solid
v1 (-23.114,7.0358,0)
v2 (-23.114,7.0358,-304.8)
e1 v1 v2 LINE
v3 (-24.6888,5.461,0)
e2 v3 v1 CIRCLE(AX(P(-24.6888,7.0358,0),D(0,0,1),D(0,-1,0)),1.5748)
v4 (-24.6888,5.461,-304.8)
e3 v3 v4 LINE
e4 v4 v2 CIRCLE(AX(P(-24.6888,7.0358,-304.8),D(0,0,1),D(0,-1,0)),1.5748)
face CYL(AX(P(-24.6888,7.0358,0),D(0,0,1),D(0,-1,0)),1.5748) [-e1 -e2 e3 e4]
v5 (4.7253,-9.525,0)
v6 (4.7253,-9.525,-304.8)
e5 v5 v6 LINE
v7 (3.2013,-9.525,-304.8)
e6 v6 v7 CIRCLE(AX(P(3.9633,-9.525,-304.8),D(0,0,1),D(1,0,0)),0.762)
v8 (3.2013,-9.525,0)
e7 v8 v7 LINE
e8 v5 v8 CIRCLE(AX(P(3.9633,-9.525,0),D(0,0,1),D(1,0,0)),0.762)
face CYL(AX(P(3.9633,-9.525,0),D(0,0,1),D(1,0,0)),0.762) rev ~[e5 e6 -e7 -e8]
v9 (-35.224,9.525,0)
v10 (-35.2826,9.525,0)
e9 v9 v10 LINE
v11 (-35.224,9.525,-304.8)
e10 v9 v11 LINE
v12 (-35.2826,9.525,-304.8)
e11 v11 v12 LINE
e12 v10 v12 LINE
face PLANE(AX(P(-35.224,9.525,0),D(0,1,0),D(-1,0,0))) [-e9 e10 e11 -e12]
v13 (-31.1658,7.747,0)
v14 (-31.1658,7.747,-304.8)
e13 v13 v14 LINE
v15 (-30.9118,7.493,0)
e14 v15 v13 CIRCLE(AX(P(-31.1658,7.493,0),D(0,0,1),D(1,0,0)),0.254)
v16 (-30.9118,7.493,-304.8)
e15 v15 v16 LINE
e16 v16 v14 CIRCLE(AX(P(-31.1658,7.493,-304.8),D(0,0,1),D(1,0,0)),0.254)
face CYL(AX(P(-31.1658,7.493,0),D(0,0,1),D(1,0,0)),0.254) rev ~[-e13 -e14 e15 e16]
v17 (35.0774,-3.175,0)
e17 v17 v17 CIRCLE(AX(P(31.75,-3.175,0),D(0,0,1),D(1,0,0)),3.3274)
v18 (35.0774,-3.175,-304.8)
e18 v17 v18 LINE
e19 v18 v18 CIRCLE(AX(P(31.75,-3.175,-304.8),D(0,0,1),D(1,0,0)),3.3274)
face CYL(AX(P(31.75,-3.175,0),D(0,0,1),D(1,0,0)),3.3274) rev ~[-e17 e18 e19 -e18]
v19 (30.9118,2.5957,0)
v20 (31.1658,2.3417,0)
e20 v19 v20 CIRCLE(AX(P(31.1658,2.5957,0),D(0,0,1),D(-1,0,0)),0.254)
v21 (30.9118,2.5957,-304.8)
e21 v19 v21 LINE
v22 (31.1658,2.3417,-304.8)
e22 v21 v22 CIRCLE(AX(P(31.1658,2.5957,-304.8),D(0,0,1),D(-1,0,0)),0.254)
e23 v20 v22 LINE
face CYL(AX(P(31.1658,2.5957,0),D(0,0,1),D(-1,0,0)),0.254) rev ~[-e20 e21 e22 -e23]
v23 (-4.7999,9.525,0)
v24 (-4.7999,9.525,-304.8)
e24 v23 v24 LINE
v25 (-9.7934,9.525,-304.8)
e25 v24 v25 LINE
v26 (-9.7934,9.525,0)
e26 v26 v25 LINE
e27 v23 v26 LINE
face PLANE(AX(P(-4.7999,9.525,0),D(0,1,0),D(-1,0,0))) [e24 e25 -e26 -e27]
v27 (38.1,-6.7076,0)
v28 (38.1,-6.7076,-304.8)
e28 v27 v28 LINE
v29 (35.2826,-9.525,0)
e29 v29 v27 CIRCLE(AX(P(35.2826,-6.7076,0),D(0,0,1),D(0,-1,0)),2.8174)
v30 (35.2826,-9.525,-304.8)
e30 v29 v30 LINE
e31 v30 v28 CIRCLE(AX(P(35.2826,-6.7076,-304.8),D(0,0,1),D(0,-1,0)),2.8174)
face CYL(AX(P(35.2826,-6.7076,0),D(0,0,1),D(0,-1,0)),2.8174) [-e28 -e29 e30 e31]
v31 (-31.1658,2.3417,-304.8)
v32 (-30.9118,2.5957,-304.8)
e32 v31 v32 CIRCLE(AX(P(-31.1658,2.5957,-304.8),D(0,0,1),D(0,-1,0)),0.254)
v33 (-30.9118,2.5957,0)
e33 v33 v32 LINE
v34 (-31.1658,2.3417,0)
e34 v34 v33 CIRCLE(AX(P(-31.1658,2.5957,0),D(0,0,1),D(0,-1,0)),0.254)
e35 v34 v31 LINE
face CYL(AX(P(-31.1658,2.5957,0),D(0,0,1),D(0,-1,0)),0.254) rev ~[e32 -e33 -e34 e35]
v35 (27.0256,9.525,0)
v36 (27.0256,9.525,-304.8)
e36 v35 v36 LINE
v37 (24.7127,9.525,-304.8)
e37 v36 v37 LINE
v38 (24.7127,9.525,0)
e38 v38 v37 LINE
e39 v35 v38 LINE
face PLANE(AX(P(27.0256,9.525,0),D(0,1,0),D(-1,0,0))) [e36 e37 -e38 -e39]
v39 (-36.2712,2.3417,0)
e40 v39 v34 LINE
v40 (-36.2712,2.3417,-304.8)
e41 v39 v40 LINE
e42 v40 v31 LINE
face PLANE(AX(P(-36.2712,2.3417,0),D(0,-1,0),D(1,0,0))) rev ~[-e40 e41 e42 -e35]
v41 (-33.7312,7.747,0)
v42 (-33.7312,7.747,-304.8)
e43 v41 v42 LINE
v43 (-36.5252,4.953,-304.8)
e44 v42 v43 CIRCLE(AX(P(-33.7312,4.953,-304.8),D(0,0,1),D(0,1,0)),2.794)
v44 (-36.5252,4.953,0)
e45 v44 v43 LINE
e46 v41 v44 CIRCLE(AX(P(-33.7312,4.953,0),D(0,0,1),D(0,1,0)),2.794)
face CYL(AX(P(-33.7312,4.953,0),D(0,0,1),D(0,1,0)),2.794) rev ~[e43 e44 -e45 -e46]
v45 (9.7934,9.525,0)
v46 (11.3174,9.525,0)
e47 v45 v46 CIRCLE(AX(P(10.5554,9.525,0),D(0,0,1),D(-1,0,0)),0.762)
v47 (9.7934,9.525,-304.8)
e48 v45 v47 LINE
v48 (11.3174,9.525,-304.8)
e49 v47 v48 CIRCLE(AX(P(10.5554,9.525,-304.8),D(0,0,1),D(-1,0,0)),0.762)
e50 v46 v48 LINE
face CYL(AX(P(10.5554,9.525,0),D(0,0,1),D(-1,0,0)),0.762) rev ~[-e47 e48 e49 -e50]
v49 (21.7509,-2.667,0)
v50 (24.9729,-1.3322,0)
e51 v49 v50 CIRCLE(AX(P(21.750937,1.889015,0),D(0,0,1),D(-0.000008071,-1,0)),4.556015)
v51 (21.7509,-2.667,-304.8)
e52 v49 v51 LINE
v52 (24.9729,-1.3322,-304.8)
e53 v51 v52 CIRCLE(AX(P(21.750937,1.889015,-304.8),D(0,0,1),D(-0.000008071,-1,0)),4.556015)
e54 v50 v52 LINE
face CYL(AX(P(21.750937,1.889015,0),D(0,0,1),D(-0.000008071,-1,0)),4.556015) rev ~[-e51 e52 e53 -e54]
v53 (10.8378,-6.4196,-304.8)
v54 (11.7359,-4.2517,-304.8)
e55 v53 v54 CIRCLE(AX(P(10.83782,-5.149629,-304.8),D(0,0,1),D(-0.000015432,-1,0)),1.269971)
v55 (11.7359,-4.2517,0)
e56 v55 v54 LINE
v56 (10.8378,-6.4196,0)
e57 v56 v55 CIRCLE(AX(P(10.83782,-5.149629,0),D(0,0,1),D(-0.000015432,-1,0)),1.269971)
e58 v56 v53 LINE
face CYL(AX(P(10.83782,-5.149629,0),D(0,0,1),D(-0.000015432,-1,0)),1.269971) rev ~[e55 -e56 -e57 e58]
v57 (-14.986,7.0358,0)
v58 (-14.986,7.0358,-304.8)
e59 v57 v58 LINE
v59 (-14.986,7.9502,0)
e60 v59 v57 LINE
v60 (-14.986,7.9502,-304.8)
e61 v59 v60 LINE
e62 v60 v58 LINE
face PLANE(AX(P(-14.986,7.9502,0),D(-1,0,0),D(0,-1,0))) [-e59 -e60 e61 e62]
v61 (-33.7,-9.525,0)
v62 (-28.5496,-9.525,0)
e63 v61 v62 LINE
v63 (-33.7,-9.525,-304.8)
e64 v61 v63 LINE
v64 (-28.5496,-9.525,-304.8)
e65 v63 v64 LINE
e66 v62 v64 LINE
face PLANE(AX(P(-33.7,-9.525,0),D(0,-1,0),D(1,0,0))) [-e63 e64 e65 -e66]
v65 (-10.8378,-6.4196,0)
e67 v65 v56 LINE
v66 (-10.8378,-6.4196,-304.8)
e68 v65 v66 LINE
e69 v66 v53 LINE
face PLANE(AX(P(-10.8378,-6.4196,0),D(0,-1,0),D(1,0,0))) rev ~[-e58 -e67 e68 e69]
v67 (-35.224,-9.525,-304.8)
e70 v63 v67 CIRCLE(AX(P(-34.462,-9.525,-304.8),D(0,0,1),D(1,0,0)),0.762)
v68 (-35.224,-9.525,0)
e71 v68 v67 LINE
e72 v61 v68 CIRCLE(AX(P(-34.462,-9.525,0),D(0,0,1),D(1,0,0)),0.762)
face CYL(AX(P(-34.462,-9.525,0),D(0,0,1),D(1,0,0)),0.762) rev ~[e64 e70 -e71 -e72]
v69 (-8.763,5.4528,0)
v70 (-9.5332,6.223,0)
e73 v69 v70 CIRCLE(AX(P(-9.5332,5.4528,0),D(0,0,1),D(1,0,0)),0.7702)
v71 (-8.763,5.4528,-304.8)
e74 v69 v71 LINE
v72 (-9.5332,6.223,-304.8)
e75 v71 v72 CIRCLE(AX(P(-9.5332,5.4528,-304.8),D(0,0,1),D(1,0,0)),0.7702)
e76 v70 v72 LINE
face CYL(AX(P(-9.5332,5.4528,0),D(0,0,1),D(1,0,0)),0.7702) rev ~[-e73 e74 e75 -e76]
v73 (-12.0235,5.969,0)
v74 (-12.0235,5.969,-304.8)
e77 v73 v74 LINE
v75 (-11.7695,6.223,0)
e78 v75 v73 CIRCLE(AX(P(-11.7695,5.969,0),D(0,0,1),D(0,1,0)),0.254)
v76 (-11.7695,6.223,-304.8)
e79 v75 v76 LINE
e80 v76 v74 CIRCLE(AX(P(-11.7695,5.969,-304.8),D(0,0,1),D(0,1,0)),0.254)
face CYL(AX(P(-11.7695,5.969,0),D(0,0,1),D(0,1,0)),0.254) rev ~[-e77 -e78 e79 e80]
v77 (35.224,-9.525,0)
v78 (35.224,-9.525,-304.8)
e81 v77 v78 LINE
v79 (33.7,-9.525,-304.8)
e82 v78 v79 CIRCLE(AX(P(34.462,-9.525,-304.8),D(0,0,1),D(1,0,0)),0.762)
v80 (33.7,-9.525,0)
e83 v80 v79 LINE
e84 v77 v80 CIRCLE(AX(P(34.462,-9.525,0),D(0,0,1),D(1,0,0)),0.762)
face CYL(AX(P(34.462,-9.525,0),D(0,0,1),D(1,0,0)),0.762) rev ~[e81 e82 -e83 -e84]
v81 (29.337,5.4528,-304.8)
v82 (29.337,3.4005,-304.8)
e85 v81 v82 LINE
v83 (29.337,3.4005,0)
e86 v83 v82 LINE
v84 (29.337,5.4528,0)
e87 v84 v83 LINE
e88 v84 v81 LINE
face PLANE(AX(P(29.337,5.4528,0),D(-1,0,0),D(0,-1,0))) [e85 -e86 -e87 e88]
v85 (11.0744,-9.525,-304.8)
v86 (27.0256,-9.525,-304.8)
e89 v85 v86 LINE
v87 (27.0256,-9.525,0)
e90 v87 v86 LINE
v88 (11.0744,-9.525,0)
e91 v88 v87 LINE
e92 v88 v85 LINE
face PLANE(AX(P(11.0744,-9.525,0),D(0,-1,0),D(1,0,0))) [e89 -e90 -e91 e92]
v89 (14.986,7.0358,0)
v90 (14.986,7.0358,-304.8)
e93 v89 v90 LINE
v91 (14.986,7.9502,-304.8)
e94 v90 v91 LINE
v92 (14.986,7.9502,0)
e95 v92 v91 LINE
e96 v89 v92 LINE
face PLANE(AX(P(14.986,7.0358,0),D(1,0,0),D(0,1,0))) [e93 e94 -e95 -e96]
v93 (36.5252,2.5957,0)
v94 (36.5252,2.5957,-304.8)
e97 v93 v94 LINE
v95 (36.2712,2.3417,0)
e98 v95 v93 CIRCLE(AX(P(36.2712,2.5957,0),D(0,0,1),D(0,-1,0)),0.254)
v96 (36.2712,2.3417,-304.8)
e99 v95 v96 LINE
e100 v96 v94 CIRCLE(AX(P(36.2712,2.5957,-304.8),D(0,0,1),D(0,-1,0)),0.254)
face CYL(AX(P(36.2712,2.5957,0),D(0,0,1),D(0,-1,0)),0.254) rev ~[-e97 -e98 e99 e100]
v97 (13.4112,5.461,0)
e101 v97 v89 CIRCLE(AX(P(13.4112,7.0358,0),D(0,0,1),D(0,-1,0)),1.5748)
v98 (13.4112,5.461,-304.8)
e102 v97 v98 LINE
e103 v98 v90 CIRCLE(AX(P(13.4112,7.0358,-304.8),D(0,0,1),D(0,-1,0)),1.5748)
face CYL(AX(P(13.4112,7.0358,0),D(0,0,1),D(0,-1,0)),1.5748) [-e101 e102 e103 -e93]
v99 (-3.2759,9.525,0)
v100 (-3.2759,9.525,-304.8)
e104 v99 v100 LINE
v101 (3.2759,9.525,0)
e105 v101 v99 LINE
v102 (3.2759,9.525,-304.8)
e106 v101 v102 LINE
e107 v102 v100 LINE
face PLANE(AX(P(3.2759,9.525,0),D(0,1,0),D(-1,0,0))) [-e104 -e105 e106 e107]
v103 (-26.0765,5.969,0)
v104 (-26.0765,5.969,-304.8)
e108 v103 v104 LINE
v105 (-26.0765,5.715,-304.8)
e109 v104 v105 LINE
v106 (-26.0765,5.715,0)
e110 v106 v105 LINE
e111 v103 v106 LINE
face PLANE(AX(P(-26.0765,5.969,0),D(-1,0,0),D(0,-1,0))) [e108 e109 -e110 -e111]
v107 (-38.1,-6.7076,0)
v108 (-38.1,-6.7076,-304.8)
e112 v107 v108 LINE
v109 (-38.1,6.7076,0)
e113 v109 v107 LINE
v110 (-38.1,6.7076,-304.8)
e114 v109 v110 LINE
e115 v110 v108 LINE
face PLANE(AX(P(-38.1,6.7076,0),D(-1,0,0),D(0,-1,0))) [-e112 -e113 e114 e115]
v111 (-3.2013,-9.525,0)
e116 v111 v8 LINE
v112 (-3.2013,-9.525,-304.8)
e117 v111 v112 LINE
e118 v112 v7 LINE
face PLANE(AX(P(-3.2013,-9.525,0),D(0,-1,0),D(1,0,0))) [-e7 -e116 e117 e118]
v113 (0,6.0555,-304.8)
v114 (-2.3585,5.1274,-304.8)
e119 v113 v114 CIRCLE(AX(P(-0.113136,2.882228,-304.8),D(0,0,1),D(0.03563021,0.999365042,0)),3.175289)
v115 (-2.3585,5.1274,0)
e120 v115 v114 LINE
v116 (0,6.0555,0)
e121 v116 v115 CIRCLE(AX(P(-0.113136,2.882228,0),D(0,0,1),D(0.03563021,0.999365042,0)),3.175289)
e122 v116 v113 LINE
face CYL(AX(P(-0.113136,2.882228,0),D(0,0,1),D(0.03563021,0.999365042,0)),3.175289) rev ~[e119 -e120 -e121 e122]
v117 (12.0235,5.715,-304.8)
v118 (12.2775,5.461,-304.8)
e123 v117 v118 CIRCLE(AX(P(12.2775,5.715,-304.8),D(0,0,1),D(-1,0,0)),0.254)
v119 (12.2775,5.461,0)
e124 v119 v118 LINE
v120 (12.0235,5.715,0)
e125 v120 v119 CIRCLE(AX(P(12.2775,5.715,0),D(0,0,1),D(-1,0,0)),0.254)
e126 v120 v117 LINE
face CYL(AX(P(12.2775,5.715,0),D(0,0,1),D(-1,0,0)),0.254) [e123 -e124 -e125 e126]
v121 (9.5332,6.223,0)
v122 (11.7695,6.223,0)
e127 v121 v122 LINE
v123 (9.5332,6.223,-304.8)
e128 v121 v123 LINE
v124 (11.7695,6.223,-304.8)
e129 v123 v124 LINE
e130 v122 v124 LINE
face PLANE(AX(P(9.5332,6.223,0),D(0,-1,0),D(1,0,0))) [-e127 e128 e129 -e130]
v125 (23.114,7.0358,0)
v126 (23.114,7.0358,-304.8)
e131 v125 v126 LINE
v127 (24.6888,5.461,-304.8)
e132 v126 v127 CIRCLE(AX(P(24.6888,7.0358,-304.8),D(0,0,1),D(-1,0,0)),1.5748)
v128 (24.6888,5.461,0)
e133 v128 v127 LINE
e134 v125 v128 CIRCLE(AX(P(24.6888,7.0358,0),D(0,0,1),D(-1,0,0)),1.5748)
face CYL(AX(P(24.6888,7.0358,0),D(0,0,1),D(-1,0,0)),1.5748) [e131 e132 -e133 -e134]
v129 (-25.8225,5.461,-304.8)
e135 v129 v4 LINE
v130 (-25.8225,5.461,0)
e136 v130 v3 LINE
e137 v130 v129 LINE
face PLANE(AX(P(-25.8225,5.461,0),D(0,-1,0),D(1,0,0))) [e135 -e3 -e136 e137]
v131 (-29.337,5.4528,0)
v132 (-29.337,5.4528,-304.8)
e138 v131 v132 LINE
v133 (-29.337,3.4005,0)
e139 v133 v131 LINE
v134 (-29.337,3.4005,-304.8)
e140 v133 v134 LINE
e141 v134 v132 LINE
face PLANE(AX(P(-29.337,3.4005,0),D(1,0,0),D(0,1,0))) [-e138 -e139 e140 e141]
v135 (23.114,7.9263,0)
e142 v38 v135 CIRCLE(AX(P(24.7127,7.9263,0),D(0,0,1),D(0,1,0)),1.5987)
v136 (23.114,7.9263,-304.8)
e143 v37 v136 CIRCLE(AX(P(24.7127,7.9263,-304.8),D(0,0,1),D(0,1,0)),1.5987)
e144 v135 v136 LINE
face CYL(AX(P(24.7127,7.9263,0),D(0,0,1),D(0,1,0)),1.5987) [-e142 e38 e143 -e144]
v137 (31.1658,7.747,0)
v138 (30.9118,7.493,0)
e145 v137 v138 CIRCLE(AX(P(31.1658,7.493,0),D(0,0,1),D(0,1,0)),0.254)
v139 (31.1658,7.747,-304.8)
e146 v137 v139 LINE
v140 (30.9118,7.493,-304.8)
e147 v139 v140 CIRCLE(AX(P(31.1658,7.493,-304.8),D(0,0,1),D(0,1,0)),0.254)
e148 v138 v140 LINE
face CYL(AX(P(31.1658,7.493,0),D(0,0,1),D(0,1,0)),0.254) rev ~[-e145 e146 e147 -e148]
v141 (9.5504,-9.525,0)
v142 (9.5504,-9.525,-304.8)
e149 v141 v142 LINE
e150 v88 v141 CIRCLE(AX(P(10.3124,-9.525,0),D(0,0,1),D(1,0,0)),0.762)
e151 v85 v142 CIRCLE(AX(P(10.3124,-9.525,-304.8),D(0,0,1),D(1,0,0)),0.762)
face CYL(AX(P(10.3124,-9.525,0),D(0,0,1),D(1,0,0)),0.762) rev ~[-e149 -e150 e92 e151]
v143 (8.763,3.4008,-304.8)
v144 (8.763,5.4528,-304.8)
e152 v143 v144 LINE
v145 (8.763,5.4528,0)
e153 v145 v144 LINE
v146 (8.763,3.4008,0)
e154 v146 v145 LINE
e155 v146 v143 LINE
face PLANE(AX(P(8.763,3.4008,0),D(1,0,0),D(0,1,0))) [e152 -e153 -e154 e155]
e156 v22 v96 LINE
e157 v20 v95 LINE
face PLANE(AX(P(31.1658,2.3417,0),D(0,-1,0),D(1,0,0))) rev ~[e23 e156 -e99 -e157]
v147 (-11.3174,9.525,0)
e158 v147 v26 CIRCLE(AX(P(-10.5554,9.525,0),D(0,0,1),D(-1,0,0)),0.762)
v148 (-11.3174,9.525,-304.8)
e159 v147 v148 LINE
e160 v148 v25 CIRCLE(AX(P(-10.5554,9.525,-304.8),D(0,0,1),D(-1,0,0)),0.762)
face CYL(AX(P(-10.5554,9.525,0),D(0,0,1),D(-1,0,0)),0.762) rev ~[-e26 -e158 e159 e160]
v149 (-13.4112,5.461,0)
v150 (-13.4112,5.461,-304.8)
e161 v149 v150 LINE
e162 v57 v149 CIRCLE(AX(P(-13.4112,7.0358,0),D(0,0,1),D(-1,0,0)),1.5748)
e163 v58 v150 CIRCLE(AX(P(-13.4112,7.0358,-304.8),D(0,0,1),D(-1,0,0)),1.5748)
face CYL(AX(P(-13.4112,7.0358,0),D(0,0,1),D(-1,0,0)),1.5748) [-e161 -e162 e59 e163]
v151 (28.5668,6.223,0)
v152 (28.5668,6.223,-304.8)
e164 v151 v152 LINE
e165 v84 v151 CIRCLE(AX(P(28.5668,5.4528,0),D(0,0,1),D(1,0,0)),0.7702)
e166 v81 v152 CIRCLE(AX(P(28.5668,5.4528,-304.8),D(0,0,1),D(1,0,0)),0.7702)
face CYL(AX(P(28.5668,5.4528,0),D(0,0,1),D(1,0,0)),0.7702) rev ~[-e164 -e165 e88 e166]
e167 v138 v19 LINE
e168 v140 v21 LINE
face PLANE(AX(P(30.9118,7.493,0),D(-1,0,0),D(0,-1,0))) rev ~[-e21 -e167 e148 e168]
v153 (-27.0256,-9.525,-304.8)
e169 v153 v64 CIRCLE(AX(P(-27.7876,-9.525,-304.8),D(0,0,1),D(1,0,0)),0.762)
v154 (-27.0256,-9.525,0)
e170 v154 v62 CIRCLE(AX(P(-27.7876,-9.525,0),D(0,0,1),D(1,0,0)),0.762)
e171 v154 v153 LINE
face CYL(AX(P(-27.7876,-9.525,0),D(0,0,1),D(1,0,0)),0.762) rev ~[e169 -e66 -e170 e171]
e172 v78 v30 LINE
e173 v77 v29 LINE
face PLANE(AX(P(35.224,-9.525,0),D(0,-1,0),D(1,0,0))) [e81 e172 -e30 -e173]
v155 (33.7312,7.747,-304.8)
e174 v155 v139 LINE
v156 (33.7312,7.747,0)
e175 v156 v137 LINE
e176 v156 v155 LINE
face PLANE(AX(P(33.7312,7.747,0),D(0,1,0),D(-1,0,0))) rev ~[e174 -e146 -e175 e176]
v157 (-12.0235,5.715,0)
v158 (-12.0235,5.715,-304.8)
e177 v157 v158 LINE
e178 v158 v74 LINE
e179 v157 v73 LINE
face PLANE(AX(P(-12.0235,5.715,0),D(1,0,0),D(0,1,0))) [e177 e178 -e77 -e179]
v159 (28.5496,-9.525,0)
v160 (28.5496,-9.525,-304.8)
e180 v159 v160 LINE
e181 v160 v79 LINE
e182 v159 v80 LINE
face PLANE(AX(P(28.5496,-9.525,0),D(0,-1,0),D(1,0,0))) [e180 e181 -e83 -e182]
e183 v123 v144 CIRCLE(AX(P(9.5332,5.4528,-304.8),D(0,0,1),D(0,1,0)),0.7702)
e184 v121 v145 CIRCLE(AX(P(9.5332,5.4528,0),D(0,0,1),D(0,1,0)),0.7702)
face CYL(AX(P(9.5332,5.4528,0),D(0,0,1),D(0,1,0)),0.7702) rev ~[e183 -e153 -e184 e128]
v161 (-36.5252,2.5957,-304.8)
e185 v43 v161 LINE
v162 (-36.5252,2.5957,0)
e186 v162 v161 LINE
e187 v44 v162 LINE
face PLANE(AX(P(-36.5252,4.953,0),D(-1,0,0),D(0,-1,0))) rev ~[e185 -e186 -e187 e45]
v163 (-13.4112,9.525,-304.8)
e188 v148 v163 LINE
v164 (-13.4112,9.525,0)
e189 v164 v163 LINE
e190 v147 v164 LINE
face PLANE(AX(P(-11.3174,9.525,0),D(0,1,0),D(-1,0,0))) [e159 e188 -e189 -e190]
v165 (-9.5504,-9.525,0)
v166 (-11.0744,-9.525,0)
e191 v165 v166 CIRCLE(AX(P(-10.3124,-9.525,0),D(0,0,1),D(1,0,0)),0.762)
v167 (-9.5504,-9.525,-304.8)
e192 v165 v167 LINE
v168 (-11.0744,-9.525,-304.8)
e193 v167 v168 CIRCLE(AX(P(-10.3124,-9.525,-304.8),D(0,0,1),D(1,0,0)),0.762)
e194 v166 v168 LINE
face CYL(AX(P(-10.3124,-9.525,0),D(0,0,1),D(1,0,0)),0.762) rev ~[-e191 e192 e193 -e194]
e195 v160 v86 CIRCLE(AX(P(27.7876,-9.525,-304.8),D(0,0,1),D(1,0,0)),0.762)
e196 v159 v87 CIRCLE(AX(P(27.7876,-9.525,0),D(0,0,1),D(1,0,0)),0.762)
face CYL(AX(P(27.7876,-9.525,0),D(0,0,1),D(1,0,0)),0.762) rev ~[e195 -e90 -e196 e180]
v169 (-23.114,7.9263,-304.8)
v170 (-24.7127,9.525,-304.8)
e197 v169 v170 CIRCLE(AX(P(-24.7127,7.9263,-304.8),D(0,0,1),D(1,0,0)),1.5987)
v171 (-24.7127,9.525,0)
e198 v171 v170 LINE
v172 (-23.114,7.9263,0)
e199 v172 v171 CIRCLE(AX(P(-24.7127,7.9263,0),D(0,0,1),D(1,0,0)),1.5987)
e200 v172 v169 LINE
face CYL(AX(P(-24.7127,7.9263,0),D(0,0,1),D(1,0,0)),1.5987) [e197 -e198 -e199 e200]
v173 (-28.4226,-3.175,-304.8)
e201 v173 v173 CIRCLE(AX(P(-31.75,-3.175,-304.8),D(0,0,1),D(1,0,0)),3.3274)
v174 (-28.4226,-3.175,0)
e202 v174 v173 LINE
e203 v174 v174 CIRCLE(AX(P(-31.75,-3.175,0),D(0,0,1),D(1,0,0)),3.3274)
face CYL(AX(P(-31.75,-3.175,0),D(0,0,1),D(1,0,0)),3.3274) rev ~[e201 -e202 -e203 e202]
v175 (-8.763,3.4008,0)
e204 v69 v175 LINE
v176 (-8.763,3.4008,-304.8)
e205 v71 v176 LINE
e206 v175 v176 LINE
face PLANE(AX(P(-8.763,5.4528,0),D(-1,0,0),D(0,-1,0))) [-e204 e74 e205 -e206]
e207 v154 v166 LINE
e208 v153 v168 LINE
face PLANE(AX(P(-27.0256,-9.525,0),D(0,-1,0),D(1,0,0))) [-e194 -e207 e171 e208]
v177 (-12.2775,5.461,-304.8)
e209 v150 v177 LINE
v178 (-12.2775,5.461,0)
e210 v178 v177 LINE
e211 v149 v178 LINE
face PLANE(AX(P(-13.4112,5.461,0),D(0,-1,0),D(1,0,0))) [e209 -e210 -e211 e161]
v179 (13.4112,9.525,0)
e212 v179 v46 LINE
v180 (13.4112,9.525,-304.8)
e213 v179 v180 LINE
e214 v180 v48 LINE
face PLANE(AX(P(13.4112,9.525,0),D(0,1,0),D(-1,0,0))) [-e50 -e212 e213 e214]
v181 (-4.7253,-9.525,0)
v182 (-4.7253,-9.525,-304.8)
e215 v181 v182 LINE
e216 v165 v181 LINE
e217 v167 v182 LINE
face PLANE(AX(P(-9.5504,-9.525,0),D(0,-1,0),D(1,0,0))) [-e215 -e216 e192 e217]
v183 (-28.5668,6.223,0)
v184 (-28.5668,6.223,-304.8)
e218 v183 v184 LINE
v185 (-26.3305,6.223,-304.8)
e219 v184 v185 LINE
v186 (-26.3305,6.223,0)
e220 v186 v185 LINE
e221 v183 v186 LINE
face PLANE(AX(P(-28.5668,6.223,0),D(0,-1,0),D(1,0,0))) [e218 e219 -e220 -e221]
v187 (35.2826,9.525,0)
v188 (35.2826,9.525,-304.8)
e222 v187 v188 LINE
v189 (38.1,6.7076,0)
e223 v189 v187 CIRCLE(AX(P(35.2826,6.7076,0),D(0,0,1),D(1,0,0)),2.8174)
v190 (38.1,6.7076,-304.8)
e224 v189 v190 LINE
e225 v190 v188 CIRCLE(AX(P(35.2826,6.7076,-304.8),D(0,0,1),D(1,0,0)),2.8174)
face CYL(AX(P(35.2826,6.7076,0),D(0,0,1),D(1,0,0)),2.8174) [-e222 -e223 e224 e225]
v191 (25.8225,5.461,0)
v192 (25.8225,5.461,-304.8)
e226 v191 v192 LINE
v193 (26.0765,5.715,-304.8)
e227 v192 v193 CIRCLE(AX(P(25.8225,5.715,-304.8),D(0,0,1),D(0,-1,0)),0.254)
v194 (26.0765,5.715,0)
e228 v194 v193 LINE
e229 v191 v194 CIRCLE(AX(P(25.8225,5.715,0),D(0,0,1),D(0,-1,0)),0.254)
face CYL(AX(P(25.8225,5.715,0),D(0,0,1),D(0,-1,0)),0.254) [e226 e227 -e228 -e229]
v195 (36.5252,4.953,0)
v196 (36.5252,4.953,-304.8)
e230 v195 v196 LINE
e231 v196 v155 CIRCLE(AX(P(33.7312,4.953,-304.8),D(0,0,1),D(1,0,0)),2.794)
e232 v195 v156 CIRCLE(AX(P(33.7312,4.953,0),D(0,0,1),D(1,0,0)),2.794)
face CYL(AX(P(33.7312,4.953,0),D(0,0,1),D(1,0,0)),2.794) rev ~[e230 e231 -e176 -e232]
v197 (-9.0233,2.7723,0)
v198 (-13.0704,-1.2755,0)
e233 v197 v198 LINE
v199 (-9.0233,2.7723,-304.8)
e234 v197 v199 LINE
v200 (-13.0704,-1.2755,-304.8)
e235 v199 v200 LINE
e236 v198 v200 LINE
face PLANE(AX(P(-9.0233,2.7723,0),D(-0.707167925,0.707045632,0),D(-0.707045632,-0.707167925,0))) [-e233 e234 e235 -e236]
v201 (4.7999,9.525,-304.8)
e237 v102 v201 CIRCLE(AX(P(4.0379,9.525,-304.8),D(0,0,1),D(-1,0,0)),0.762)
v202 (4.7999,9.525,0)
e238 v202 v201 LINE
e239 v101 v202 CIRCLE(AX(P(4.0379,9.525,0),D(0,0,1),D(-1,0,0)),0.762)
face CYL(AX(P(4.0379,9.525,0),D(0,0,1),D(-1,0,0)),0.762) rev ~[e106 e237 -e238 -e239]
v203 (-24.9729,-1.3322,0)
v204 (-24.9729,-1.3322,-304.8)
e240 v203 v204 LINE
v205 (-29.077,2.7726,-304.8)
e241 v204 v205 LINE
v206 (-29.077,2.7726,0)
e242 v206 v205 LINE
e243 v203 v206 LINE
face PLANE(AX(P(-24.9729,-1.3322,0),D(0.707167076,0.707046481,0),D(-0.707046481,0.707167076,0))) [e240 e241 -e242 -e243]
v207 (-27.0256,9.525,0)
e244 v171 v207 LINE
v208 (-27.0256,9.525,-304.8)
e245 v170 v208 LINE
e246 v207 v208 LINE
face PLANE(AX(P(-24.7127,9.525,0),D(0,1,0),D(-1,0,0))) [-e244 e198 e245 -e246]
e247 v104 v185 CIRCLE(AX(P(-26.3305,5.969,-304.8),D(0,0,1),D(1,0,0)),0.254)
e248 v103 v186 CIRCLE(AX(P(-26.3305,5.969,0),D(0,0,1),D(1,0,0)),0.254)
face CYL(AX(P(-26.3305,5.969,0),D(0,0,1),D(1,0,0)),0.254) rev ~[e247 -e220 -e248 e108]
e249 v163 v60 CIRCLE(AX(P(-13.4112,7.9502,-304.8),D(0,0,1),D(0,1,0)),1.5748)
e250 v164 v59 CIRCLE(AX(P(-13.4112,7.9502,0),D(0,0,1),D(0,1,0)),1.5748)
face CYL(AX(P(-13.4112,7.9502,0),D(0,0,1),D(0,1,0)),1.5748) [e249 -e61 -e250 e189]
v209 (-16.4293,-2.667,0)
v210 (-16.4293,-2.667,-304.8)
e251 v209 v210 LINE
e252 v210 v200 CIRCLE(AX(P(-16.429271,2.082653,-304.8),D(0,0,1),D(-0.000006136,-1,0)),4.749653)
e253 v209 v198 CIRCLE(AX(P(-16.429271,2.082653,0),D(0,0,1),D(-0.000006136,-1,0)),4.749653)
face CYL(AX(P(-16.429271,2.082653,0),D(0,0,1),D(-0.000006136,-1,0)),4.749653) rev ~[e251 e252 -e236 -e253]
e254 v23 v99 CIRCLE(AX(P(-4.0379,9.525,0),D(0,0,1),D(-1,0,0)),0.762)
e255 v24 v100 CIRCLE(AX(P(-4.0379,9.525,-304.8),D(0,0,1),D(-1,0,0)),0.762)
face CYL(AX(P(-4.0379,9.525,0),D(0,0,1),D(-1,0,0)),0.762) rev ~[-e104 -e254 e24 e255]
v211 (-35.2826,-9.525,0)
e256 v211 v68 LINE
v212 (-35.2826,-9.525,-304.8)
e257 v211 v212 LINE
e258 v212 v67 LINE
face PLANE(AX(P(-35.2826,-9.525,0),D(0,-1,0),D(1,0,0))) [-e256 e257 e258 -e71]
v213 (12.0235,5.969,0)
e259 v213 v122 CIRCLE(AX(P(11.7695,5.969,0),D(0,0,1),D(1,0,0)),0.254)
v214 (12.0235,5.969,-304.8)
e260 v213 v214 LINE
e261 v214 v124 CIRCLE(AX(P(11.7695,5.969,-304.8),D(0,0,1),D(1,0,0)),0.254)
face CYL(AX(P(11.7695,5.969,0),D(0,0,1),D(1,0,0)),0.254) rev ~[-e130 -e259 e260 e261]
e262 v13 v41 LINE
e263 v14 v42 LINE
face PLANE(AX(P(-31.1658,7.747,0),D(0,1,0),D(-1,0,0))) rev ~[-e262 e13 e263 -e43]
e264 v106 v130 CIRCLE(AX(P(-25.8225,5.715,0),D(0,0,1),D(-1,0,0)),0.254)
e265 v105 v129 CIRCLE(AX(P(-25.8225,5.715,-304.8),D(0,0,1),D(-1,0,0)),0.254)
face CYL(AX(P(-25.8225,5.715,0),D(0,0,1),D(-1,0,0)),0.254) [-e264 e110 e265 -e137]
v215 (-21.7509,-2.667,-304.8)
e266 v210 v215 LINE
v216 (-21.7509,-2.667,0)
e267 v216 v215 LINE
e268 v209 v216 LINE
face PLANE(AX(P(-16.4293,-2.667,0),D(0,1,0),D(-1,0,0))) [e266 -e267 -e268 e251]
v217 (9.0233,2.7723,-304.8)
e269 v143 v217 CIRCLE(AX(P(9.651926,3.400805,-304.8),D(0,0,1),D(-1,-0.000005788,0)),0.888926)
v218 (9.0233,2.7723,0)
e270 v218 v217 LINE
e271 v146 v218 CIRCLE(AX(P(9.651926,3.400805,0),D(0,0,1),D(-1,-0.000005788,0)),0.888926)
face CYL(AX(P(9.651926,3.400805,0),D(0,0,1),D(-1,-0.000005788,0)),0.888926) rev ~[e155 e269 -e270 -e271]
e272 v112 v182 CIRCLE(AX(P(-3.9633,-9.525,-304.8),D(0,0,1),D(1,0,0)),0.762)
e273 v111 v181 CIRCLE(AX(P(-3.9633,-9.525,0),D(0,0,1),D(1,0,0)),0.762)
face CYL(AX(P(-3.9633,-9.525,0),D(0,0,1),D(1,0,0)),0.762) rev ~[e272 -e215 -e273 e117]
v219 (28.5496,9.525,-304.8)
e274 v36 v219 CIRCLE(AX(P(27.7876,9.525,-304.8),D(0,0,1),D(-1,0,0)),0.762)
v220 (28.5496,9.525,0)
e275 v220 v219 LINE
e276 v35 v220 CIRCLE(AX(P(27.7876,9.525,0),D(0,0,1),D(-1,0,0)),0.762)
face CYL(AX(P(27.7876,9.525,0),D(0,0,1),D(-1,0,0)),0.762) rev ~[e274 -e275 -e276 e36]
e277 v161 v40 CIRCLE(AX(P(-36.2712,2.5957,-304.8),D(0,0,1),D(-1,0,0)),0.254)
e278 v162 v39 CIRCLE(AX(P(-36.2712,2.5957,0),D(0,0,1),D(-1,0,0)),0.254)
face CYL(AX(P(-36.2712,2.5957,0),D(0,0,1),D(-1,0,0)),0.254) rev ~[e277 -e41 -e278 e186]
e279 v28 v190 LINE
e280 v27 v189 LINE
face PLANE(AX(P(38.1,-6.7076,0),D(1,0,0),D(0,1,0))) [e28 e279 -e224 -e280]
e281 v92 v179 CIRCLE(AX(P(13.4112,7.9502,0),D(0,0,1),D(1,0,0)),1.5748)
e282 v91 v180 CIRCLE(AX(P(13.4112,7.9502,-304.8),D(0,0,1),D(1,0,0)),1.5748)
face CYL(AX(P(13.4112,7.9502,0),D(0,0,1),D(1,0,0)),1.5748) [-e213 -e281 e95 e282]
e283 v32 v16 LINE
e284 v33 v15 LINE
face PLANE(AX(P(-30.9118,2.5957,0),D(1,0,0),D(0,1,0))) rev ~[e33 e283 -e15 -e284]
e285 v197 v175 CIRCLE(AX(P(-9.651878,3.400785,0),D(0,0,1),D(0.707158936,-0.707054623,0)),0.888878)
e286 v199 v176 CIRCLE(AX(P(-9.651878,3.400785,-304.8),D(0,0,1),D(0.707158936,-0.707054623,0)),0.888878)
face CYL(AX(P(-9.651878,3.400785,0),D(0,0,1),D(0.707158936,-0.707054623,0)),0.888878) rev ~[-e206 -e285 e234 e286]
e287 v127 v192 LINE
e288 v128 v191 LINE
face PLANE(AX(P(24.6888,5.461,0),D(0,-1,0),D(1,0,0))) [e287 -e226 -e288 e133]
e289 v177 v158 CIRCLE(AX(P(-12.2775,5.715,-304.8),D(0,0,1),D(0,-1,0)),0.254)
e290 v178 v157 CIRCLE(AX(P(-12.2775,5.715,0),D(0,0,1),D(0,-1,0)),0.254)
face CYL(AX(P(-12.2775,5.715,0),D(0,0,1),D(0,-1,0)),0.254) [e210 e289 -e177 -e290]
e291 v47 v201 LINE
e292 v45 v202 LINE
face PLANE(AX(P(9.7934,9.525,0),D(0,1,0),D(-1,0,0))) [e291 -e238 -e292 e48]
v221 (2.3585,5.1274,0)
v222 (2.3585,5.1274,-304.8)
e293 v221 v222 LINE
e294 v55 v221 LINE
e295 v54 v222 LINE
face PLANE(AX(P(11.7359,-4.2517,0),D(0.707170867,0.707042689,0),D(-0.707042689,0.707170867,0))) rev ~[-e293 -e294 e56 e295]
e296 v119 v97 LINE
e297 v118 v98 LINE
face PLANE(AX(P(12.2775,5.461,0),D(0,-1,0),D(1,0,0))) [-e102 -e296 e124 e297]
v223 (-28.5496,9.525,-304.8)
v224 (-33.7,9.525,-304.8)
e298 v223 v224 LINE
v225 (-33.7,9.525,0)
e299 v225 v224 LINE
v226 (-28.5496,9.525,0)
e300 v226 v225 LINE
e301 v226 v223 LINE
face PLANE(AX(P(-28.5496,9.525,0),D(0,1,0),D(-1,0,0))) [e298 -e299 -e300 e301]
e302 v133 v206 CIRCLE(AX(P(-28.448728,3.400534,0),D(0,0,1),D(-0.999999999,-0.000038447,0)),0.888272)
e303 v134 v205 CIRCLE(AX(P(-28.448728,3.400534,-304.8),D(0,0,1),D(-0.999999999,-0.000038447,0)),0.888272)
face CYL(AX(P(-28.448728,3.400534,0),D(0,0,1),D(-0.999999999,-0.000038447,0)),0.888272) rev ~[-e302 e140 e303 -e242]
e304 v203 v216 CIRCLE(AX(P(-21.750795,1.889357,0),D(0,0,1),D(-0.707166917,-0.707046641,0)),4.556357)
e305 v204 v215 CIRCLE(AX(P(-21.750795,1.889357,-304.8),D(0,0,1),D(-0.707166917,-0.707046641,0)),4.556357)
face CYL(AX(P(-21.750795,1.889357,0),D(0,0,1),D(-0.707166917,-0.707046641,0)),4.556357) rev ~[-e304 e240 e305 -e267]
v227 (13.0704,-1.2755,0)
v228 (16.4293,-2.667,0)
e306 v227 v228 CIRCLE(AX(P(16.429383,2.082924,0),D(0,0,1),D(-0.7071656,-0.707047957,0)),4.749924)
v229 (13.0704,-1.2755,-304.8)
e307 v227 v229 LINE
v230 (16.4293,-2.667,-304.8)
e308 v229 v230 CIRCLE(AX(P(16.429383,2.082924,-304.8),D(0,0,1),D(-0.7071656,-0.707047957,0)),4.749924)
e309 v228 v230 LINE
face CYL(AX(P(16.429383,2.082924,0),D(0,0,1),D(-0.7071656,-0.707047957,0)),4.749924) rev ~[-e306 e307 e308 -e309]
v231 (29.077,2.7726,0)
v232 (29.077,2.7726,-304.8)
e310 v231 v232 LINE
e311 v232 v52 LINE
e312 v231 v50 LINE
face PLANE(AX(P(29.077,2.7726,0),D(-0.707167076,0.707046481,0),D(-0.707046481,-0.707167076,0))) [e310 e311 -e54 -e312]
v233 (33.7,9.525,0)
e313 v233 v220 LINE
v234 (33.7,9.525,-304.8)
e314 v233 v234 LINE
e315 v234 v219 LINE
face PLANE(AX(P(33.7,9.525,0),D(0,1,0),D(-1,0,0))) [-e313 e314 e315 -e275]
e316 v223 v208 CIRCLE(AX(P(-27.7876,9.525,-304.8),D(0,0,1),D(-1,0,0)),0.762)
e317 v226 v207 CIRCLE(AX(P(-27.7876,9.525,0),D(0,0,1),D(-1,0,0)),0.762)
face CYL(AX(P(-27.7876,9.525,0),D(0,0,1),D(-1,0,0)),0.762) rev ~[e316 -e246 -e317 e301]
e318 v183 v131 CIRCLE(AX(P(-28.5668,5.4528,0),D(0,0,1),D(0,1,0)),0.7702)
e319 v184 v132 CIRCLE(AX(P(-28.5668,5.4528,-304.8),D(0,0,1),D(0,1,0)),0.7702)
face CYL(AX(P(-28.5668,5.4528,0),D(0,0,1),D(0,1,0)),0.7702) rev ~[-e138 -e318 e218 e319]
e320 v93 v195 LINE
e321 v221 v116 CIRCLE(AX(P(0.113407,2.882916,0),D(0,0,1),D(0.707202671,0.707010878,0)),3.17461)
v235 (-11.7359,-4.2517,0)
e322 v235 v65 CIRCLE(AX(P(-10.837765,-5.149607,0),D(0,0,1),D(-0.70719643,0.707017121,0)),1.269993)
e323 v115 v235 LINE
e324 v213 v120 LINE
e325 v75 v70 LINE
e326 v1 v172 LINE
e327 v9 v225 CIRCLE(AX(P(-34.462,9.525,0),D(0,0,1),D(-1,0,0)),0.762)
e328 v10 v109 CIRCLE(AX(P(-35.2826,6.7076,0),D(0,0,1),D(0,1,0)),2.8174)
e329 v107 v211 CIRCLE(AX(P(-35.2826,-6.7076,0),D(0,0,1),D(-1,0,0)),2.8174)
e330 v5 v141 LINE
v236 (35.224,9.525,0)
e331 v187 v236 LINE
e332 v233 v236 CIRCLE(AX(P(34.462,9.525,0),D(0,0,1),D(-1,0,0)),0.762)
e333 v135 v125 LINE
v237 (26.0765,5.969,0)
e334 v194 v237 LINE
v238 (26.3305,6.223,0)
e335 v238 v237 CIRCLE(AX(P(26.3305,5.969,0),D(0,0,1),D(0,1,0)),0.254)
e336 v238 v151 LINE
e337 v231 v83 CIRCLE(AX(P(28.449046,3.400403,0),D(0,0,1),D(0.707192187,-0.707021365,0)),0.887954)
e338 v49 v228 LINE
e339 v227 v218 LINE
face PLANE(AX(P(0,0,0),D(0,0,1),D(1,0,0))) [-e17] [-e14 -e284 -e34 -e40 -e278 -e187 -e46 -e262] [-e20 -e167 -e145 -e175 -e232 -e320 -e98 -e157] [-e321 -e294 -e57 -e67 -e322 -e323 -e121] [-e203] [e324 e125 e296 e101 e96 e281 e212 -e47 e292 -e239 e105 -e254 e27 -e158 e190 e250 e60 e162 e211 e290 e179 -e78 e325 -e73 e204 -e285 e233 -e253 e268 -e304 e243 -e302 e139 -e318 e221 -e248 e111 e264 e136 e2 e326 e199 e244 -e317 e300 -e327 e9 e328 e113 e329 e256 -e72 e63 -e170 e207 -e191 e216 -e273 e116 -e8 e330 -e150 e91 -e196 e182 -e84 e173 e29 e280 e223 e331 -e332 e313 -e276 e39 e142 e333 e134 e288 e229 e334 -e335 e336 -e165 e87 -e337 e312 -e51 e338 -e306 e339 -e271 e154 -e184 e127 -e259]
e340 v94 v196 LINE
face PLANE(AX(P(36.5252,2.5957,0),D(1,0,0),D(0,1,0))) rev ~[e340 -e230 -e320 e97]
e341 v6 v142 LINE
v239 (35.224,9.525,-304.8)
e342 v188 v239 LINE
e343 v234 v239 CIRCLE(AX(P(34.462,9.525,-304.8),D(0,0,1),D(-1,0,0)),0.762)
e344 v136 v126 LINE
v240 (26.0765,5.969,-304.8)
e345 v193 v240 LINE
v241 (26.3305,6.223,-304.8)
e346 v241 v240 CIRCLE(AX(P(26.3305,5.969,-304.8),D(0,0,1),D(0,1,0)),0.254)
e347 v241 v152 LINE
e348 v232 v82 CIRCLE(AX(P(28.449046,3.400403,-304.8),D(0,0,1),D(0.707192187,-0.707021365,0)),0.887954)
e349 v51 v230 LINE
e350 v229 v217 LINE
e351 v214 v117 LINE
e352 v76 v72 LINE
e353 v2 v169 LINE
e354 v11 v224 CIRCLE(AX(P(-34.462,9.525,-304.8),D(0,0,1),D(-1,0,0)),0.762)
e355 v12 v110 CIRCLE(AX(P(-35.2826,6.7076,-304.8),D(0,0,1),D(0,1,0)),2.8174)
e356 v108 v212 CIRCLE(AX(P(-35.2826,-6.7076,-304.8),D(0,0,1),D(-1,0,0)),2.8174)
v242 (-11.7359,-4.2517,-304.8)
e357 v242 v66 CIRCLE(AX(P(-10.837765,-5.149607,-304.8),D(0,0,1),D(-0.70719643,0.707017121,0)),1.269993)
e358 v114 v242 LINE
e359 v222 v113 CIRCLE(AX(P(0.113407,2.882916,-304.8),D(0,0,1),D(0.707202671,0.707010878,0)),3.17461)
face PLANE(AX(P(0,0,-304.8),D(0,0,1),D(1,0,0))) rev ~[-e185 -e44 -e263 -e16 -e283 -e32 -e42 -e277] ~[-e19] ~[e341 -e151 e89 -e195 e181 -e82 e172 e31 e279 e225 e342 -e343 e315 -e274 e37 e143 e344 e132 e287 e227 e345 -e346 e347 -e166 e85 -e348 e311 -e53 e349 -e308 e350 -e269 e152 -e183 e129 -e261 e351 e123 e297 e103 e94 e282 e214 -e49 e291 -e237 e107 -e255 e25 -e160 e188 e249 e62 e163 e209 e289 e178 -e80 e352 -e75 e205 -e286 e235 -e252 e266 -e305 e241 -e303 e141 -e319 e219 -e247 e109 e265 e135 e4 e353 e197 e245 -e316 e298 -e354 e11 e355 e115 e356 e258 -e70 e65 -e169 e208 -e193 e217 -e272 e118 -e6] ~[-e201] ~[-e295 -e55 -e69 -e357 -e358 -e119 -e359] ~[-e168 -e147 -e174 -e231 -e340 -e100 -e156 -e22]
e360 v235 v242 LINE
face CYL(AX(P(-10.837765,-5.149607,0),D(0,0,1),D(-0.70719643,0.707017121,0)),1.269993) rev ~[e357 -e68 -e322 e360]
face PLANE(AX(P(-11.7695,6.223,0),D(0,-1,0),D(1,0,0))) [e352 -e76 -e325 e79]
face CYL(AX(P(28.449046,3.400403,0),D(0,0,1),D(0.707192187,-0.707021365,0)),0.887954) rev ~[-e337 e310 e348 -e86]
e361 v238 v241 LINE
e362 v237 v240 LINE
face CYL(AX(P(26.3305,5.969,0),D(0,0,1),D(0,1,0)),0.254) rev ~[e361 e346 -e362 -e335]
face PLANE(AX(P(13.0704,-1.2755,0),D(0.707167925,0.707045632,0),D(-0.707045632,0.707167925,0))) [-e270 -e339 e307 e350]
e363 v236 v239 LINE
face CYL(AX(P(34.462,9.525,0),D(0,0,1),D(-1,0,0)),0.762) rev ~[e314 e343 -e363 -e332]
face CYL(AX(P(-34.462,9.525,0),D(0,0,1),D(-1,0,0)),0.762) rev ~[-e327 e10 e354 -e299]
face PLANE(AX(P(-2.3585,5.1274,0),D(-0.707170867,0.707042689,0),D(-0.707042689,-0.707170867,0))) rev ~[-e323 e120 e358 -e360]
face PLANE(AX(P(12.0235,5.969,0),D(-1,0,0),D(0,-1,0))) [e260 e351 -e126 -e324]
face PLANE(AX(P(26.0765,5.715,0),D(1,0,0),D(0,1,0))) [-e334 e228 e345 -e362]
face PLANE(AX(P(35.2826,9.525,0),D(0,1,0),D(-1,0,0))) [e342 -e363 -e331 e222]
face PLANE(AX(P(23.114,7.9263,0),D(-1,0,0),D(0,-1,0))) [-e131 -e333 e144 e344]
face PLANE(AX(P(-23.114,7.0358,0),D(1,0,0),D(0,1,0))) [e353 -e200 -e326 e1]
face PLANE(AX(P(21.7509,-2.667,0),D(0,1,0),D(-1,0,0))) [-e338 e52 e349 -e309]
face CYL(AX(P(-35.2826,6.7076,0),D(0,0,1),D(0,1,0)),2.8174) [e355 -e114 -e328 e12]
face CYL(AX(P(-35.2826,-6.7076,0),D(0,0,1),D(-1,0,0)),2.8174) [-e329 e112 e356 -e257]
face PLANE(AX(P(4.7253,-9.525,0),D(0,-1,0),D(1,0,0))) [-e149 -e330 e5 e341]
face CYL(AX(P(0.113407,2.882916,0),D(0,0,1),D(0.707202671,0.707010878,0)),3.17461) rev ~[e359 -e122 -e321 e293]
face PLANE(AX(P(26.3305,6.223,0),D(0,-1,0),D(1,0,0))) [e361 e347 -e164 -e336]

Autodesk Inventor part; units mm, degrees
ref_plane "YZ Plane" through (0, 0, 0) normal (1, 0, 0) x (0, 1, 0)
ref_plane "XZ Plane" through (0, 0, 0) normal (0, 1, 0) x (-1, 0, 0)
ref_plane "XY Plane" through (0, 0, 0) normal (0, 0, 1) x (1, 0, 0)
sketch "Sketch1" plane through (0, 0, 0) normal (0, 0, 1) x (1, 0, 0)
  circle A0 centre (31.75, -3.175) radius 3.3274
  circle A1 centre (-31.75, -3.175) radius 3.3274
  arc A2 (-30.9118, 7.493) -> (-31.1658, 7.747) centre (-31.1658, 7.493) ccw
  line L0 (-30.9118, 2.5957) -> (-30.9118, 7.493)
  arc A3 (-31.1658, 2.3417) -> (-30.9118, 2.5957) centre (-31.1658, 2.5957) ccw
  line L1 (-36.2712, 2.3417) -> (-31.1658, 2.3417)
  arc A4 (-36.5252, 2.5957) -> (-36.2712, 2.3417) centre (-36.2712, 2.5957) ccw
  line L2 (-36.5252, 4.953) -> (-36.5252, 2.5957)
  arc A5 (-33.7312, 7.747) -> (-36.5252, 4.953) centre (-33.7312, 4.953) ccw
  line L3 (-31.1658, 7.747) -> (-33.7312, 7.747)
  arc A6 (30.9118, 2.5957) -> (31.1658, 2.3417) centre (31.1658, 2.5957) ccw
  line L4 (30.9118, 7.493) -> (30.9118, 2.5957)
  arc A7 (31.1658, 7.747) -> (30.9118, 7.493) centre (31.1658, 7.493) ccw
  line L5 (33.7312, 7.747) -> (31.1658, 7.747)
  arc A8 (36.5252, 4.953) -> (33.7312, 7.747) centre (33.7312, 4.953) ccw
  line L6 (36.5252, 2.5957) -> (36.5252, 4.953)
  arc A9 (36.2712, 2.3417) -> (36.5252, 2.5957) centre (36.2712, 2.5957) ccw
  line L7 (31.1658, 2.3417) -> (36.2712, 2.3417)
  arc A10 (0, 6.0555) -> (-2.3585, 5.1274) centre (-0.1132, 2.8826) ccw
  arc A11 (2.3585, 5.1274) -> (0, 6.0555) centre (0.1132, 2.8826) ccw
  line L8 (11.7359, -4.2517) -> (2.3585, 5.1274)
  arc A12 (10.8378, -6.4196) -> (11.7359, -4.2517) centre (10.8378, -5.1496) ccw
  line L9 (-10.8378, -6.4196) -> (10.8378, -6.4196)
  arc A13 (-11.7359, -4.2517) -> (-10.8378, -6.4196) centre (-10.8378, -5.1496) ccw
  line L10 (-2.3585, 5.1274) -> (-11.7359, -4.2517)
  arc A14 (35.2826, -9.525) -> (38.1, -6.7076) centre (35.2826, -6.7076) ccw
  line L11 (38.1, -6.7076) -> (38.1, 6.7076)
  arc A15 (38.1, 6.7076) -> (35.2826, 9.525) centre (35.2826, 6.7076) ccw
  line L12 (35.2826, 9.525) -> (35.224, 9.525)
  arc A16 (33.7, 9.525) -> (35.224, 9.525) centre (34.462, 9.525) ccw
  line L13 (33.7, 9.525) -> (28.5496, 9.525)
  arc A17 (27.0256, 9.525) -> (28.5496, 9.525) centre (27.7876, 9.525) ccw
  line L14 (27.0256, 9.525) -> (24.7127, 9.525)
  arc A18 (24.7127, 9.525) -> (23.114, 7.9263) centre (24.7127, 7.9263) ccw
  line L15 (23.114, 7.9263) -> (23.114, 7.0358)
  arc A19 (23.114, 7.0358) -> (24.6888, 5.461) centre (24.6888, 7.0358) ccw
  line L16 (24.6888, 5.461) -> (25.8225, 5.461)
  arc A20 (25.8225, 5.461) -> (26.0765, 5.715) centre (25.8225, 5.715) ccw
  line L17 (26.0765, 5.715) -> (26.0765, 5.969)
  arc A21 (26.3305, 6.223) -> (26.0765, 5.969) centre (26.3305, 5.969) ccw
  line L18 (26.3305, 6.223) -> (28.5668, 6.223)
  arc A22 (29.337, 5.4528) -> (28.5668, 6.223) centre (28.5668, 5.4528) ccw
  line L19 (29.337, 5.4528) -> (29.337, 3.4005)
  arc A23 (29.077, 2.7726) -> (29.337, 3.4005) centre (28.4489, 3.4005) ccw
  line L20 (29.077, 2.7726) -> (24.9729, -1.3322)
  arc A24 (21.7509, -2.667) -> (24.9729, -1.3322) centre (21.7509, 1.8892) ccw
  line L21 (21.7509, -2.667) -> (16.4293, -2.667)
  arc A25 (13.0704, -1.2755) -> (16.4293, -2.667) centre (16.4293, 2.0828) ccw
  line L22 (13.0704, -1.2755) -> (9.0233, 2.7723)
  arc A26 (8.763, 3.4008) -> (9.0233, 2.7723) centre (9.6519, 3.4008) ccw
  line L23 (8.763, 3.4008) -> (8.763, 5.4528)
  arc A27 (9.5332, 6.223) -> (8.763, 5.4528) centre (9.5332, 5.4528) ccw
  line L24 (9.5332, 6.223) -> (11.7695, 6.223)
  arc A28 (12.0235, 5.969) -> (11.7695, 6.223) centre (11.7695, 5.969) ccw
  line L25 (12.0235, 5.969) -> (12.0235, 5.715)
  arc A29 (12.0235, 5.715) -> (12.2775, 5.461) centre (12.2775, 5.715) ccw
  line L26 (12.2775, 5.461) -> (13.4112, 5.461)
  arc A30 (13.4112, 5.461) -> (14.986, 7.0358) centre (13.4112, 7.0358) ccw
  line L27 (14.986, 7.0358) -> (14.986, 7.9502)
  arc A31 (14.986, 7.9502) -> (13.4112, 9.525) centre (13.4112, 7.9502) ccw
  line L28 (13.4112, 9.525) -> (11.3174, 9.525)
  arc A32 (9.7934, 9.525) -> (11.3174, 9.525) centre (10.5554, 9.525) ccw
  line L29 (9.7934, 9.525) -> (4.7999, 9.525)
  arc A33 (3.2759, 9.525) -> (4.7999, 9.525) centre (4.0379, 9.525) ccw
  line L30 (3.2759, 9.525) -> (-3.2759, 9.525)
  arc A34 (-4.7999, 9.525) -> (-3.2759, 9.525) centre (-4.0379, 9.525) ccw
  line L31 (-4.7999, 9.525) -> (-9.7934, 9.525)
  arc A35 (-11.3174, 9.525) -> (-9.7934, 9.525) centre (-10.5554, 9.525) ccw
  line L32 (-11.3174, 9.525) -> (-13.4112, 9.525)
  arc A36 (-13.4112, 9.525) -> (-14.986, 7.9502) centre (-13.4112, 7.9502) ccw
  line L33 (-14.986, 7.9502) -> (-14.986, 7.0358)
  arc A37 (-14.986, 7.0358) -> (-13.4112, 5.461) centre (-13.4112, 7.0358) ccw
  line L34 (-13.4112, 5.461) -> (-12.2775, 5.461)
  arc A38 (-12.2775, 5.461) -> (-12.0235, 5.715) centre (-12.2775, 5.715) ccw
  line L35 (-12.0235, 5.715) -> (-12.0235, 5.969)
  arc A39 (-11.7695, 6.223) -> (-12.0235, 5.969) centre (-11.7695, 5.969) ccw
  line L36 (-11.7695, 6.223) -> (-9.5332, 6.223)
  arc A40 (-8.763, 5.4528) -> (-9.5332, 6.223) centre (-9.5332, 5.4528) ccw
  line L37 (-8.763, 5.4528) -> (-8.763, 3.4008)
  arc A41 (-9.0233, 2.7723) -> (-8.763, 3.4008) centre (-9.6519, 3.4008) ccw
  line L38 (-9.0233, 2.7723) -> (-13.0704, -1.2755)
  arc A42 (-16.4293, -2.667) -> (-13.0704, -1.2755) centre (-16.4293, 2.0828) ccw
  line L39 (-16.4293, -2.667) -> (-21.7509, -2.667)
  arc A43 (-24.9729, -1.3322) -> (-21.7509, -2.667) centre (-21.7509, 1.8892) ccw
  line L40 (-24.9729, -1.3322) -> (-29.077, 2.7726)
  arc A44 (-29.337, 3.4005) -> (-29.077, 2.7726) centre (-28.4489, 3.4005) ccw
  line L41 (-29.337, 3.4005) -> (-29.337, 5.4528)
  arc A45 (-28.5668, 6.223) -> (-29.337, 5.4528) centre (-28.5668, 5.4528) ccw
  line L42 (-28.5668, 6.223) -> (-26.3305, 6.223)
  arc A46 (-26.0765, 5.969) -> (-26.3305, 6.223) centre (-26.3305, 5.969) ccw
  line L43 (-26.0765, 5.969) -> (-26.0765, 5.715)
  arc A47 (-26.0765, 5.715) -> (-25.8225, 5.461) centre (-25.8225, 5.715) ccw
  line L44 (-25.8225, 5.461) -> (-24.6888, 5.461)
  arc A48 (-24.6888, 5.461) -> (-23.114, 7.0358) centre (-24.6888, 7.0358) ccw
  line L45 (-23.114, 7.0358) -> (-23.114, 7.9263)
  arc A49 (-23.114, 7.9263) -> (-24.7127, 9.525) centre (-24.7127, 7.9263) ccw
  line L46 (-24.7127, 9.525) -> (-27.0256, 9.525)
  arc A50 (-28.5496, 9.525) -> (-27.0256, 9.525) centre (-27.7876, 9.525) ccw
  line L47 (-28.5496, 9.525) -> (-33.7, 9.525)
  arc A51 (-35.224, 9.525) -> (-33.7, 9.525) centre (-34.462, 9.525) ccw
  line L48 (-35.224, 9.525) -> (-35.2826, 9.525)
  arc A52 (-35.2826, 9.525) -> (-38.1, 6.7076) centre (-35.2826, 6.7076) ccw
  line L49 (-38.1, 6.7076) -> (-38.1, -6.7076)
  arc A53 (-38.1, -6.7076) -> (-35.2826, -9.525) centre (-35.2826, -6.7076) ccw
  line L50 (-35.2826, -9.525) -> (-35.224, -9.525)
  arc A54 (-33.7, -9.525) -> (-35.224, -9.525) centre (-34.462, -9.525) ccw
  line L51 (-33.7, -9.525) -> (-28.5496, -9.525)
  arc A55 (-27.0256, -9.525) -> (-28.5496, -9.525) centre (-27.7876, -9.525) ccw
  line L52 (-27.0256, -9.525) -> (-11.0744, -9.525)
  arc A56 (-9.5504, -9.525) -> (-11.0744, -9.525) centre (-10.3124, -9.525) ccw
  line L53 (-9.5504, -9.525) -> (-4.7253, -9.525)
  arc A57 (-3.2013, -9.525) -> (-4.7253, -9.525) centre (-3.9633, -9.525) ccw
  line L54 (-3.2013, -9.525) -> (3.2013, -9.525)
  arc A58 (4.7253, -9.525) -> (3.2013, -9.525) centre (3.9633, -9.525) ccw
  line L55 (4.7253, -9.525) -> (9.5504, -9.525)
  arc A59 (11.0744, -9.525) -> (9.5504, -9.525) centre (10.3124, -9.525) ccw
  line L56 (11.0744, -9.525) -> (27.0256, -9.525)
  arc A60 (28.5496, -9.525) -> (27.0256, -9.525) centre (27.7876, -9.525) ccw
  line L57 (28.5496, -9.525) -> (33.7, -9.525)
  arc A61 (35.224, -9.525) -> (33.7, -9.525) centre (34.462, -9.525) ccw
  line L58 (35.224, -9.525) -> (35.2826, -9.525)
  point P0 (0, 0)
extrude "Extrusion1" add sketch "Sketch1" against normal blind 304.8
properties part number "3034-LITE"
